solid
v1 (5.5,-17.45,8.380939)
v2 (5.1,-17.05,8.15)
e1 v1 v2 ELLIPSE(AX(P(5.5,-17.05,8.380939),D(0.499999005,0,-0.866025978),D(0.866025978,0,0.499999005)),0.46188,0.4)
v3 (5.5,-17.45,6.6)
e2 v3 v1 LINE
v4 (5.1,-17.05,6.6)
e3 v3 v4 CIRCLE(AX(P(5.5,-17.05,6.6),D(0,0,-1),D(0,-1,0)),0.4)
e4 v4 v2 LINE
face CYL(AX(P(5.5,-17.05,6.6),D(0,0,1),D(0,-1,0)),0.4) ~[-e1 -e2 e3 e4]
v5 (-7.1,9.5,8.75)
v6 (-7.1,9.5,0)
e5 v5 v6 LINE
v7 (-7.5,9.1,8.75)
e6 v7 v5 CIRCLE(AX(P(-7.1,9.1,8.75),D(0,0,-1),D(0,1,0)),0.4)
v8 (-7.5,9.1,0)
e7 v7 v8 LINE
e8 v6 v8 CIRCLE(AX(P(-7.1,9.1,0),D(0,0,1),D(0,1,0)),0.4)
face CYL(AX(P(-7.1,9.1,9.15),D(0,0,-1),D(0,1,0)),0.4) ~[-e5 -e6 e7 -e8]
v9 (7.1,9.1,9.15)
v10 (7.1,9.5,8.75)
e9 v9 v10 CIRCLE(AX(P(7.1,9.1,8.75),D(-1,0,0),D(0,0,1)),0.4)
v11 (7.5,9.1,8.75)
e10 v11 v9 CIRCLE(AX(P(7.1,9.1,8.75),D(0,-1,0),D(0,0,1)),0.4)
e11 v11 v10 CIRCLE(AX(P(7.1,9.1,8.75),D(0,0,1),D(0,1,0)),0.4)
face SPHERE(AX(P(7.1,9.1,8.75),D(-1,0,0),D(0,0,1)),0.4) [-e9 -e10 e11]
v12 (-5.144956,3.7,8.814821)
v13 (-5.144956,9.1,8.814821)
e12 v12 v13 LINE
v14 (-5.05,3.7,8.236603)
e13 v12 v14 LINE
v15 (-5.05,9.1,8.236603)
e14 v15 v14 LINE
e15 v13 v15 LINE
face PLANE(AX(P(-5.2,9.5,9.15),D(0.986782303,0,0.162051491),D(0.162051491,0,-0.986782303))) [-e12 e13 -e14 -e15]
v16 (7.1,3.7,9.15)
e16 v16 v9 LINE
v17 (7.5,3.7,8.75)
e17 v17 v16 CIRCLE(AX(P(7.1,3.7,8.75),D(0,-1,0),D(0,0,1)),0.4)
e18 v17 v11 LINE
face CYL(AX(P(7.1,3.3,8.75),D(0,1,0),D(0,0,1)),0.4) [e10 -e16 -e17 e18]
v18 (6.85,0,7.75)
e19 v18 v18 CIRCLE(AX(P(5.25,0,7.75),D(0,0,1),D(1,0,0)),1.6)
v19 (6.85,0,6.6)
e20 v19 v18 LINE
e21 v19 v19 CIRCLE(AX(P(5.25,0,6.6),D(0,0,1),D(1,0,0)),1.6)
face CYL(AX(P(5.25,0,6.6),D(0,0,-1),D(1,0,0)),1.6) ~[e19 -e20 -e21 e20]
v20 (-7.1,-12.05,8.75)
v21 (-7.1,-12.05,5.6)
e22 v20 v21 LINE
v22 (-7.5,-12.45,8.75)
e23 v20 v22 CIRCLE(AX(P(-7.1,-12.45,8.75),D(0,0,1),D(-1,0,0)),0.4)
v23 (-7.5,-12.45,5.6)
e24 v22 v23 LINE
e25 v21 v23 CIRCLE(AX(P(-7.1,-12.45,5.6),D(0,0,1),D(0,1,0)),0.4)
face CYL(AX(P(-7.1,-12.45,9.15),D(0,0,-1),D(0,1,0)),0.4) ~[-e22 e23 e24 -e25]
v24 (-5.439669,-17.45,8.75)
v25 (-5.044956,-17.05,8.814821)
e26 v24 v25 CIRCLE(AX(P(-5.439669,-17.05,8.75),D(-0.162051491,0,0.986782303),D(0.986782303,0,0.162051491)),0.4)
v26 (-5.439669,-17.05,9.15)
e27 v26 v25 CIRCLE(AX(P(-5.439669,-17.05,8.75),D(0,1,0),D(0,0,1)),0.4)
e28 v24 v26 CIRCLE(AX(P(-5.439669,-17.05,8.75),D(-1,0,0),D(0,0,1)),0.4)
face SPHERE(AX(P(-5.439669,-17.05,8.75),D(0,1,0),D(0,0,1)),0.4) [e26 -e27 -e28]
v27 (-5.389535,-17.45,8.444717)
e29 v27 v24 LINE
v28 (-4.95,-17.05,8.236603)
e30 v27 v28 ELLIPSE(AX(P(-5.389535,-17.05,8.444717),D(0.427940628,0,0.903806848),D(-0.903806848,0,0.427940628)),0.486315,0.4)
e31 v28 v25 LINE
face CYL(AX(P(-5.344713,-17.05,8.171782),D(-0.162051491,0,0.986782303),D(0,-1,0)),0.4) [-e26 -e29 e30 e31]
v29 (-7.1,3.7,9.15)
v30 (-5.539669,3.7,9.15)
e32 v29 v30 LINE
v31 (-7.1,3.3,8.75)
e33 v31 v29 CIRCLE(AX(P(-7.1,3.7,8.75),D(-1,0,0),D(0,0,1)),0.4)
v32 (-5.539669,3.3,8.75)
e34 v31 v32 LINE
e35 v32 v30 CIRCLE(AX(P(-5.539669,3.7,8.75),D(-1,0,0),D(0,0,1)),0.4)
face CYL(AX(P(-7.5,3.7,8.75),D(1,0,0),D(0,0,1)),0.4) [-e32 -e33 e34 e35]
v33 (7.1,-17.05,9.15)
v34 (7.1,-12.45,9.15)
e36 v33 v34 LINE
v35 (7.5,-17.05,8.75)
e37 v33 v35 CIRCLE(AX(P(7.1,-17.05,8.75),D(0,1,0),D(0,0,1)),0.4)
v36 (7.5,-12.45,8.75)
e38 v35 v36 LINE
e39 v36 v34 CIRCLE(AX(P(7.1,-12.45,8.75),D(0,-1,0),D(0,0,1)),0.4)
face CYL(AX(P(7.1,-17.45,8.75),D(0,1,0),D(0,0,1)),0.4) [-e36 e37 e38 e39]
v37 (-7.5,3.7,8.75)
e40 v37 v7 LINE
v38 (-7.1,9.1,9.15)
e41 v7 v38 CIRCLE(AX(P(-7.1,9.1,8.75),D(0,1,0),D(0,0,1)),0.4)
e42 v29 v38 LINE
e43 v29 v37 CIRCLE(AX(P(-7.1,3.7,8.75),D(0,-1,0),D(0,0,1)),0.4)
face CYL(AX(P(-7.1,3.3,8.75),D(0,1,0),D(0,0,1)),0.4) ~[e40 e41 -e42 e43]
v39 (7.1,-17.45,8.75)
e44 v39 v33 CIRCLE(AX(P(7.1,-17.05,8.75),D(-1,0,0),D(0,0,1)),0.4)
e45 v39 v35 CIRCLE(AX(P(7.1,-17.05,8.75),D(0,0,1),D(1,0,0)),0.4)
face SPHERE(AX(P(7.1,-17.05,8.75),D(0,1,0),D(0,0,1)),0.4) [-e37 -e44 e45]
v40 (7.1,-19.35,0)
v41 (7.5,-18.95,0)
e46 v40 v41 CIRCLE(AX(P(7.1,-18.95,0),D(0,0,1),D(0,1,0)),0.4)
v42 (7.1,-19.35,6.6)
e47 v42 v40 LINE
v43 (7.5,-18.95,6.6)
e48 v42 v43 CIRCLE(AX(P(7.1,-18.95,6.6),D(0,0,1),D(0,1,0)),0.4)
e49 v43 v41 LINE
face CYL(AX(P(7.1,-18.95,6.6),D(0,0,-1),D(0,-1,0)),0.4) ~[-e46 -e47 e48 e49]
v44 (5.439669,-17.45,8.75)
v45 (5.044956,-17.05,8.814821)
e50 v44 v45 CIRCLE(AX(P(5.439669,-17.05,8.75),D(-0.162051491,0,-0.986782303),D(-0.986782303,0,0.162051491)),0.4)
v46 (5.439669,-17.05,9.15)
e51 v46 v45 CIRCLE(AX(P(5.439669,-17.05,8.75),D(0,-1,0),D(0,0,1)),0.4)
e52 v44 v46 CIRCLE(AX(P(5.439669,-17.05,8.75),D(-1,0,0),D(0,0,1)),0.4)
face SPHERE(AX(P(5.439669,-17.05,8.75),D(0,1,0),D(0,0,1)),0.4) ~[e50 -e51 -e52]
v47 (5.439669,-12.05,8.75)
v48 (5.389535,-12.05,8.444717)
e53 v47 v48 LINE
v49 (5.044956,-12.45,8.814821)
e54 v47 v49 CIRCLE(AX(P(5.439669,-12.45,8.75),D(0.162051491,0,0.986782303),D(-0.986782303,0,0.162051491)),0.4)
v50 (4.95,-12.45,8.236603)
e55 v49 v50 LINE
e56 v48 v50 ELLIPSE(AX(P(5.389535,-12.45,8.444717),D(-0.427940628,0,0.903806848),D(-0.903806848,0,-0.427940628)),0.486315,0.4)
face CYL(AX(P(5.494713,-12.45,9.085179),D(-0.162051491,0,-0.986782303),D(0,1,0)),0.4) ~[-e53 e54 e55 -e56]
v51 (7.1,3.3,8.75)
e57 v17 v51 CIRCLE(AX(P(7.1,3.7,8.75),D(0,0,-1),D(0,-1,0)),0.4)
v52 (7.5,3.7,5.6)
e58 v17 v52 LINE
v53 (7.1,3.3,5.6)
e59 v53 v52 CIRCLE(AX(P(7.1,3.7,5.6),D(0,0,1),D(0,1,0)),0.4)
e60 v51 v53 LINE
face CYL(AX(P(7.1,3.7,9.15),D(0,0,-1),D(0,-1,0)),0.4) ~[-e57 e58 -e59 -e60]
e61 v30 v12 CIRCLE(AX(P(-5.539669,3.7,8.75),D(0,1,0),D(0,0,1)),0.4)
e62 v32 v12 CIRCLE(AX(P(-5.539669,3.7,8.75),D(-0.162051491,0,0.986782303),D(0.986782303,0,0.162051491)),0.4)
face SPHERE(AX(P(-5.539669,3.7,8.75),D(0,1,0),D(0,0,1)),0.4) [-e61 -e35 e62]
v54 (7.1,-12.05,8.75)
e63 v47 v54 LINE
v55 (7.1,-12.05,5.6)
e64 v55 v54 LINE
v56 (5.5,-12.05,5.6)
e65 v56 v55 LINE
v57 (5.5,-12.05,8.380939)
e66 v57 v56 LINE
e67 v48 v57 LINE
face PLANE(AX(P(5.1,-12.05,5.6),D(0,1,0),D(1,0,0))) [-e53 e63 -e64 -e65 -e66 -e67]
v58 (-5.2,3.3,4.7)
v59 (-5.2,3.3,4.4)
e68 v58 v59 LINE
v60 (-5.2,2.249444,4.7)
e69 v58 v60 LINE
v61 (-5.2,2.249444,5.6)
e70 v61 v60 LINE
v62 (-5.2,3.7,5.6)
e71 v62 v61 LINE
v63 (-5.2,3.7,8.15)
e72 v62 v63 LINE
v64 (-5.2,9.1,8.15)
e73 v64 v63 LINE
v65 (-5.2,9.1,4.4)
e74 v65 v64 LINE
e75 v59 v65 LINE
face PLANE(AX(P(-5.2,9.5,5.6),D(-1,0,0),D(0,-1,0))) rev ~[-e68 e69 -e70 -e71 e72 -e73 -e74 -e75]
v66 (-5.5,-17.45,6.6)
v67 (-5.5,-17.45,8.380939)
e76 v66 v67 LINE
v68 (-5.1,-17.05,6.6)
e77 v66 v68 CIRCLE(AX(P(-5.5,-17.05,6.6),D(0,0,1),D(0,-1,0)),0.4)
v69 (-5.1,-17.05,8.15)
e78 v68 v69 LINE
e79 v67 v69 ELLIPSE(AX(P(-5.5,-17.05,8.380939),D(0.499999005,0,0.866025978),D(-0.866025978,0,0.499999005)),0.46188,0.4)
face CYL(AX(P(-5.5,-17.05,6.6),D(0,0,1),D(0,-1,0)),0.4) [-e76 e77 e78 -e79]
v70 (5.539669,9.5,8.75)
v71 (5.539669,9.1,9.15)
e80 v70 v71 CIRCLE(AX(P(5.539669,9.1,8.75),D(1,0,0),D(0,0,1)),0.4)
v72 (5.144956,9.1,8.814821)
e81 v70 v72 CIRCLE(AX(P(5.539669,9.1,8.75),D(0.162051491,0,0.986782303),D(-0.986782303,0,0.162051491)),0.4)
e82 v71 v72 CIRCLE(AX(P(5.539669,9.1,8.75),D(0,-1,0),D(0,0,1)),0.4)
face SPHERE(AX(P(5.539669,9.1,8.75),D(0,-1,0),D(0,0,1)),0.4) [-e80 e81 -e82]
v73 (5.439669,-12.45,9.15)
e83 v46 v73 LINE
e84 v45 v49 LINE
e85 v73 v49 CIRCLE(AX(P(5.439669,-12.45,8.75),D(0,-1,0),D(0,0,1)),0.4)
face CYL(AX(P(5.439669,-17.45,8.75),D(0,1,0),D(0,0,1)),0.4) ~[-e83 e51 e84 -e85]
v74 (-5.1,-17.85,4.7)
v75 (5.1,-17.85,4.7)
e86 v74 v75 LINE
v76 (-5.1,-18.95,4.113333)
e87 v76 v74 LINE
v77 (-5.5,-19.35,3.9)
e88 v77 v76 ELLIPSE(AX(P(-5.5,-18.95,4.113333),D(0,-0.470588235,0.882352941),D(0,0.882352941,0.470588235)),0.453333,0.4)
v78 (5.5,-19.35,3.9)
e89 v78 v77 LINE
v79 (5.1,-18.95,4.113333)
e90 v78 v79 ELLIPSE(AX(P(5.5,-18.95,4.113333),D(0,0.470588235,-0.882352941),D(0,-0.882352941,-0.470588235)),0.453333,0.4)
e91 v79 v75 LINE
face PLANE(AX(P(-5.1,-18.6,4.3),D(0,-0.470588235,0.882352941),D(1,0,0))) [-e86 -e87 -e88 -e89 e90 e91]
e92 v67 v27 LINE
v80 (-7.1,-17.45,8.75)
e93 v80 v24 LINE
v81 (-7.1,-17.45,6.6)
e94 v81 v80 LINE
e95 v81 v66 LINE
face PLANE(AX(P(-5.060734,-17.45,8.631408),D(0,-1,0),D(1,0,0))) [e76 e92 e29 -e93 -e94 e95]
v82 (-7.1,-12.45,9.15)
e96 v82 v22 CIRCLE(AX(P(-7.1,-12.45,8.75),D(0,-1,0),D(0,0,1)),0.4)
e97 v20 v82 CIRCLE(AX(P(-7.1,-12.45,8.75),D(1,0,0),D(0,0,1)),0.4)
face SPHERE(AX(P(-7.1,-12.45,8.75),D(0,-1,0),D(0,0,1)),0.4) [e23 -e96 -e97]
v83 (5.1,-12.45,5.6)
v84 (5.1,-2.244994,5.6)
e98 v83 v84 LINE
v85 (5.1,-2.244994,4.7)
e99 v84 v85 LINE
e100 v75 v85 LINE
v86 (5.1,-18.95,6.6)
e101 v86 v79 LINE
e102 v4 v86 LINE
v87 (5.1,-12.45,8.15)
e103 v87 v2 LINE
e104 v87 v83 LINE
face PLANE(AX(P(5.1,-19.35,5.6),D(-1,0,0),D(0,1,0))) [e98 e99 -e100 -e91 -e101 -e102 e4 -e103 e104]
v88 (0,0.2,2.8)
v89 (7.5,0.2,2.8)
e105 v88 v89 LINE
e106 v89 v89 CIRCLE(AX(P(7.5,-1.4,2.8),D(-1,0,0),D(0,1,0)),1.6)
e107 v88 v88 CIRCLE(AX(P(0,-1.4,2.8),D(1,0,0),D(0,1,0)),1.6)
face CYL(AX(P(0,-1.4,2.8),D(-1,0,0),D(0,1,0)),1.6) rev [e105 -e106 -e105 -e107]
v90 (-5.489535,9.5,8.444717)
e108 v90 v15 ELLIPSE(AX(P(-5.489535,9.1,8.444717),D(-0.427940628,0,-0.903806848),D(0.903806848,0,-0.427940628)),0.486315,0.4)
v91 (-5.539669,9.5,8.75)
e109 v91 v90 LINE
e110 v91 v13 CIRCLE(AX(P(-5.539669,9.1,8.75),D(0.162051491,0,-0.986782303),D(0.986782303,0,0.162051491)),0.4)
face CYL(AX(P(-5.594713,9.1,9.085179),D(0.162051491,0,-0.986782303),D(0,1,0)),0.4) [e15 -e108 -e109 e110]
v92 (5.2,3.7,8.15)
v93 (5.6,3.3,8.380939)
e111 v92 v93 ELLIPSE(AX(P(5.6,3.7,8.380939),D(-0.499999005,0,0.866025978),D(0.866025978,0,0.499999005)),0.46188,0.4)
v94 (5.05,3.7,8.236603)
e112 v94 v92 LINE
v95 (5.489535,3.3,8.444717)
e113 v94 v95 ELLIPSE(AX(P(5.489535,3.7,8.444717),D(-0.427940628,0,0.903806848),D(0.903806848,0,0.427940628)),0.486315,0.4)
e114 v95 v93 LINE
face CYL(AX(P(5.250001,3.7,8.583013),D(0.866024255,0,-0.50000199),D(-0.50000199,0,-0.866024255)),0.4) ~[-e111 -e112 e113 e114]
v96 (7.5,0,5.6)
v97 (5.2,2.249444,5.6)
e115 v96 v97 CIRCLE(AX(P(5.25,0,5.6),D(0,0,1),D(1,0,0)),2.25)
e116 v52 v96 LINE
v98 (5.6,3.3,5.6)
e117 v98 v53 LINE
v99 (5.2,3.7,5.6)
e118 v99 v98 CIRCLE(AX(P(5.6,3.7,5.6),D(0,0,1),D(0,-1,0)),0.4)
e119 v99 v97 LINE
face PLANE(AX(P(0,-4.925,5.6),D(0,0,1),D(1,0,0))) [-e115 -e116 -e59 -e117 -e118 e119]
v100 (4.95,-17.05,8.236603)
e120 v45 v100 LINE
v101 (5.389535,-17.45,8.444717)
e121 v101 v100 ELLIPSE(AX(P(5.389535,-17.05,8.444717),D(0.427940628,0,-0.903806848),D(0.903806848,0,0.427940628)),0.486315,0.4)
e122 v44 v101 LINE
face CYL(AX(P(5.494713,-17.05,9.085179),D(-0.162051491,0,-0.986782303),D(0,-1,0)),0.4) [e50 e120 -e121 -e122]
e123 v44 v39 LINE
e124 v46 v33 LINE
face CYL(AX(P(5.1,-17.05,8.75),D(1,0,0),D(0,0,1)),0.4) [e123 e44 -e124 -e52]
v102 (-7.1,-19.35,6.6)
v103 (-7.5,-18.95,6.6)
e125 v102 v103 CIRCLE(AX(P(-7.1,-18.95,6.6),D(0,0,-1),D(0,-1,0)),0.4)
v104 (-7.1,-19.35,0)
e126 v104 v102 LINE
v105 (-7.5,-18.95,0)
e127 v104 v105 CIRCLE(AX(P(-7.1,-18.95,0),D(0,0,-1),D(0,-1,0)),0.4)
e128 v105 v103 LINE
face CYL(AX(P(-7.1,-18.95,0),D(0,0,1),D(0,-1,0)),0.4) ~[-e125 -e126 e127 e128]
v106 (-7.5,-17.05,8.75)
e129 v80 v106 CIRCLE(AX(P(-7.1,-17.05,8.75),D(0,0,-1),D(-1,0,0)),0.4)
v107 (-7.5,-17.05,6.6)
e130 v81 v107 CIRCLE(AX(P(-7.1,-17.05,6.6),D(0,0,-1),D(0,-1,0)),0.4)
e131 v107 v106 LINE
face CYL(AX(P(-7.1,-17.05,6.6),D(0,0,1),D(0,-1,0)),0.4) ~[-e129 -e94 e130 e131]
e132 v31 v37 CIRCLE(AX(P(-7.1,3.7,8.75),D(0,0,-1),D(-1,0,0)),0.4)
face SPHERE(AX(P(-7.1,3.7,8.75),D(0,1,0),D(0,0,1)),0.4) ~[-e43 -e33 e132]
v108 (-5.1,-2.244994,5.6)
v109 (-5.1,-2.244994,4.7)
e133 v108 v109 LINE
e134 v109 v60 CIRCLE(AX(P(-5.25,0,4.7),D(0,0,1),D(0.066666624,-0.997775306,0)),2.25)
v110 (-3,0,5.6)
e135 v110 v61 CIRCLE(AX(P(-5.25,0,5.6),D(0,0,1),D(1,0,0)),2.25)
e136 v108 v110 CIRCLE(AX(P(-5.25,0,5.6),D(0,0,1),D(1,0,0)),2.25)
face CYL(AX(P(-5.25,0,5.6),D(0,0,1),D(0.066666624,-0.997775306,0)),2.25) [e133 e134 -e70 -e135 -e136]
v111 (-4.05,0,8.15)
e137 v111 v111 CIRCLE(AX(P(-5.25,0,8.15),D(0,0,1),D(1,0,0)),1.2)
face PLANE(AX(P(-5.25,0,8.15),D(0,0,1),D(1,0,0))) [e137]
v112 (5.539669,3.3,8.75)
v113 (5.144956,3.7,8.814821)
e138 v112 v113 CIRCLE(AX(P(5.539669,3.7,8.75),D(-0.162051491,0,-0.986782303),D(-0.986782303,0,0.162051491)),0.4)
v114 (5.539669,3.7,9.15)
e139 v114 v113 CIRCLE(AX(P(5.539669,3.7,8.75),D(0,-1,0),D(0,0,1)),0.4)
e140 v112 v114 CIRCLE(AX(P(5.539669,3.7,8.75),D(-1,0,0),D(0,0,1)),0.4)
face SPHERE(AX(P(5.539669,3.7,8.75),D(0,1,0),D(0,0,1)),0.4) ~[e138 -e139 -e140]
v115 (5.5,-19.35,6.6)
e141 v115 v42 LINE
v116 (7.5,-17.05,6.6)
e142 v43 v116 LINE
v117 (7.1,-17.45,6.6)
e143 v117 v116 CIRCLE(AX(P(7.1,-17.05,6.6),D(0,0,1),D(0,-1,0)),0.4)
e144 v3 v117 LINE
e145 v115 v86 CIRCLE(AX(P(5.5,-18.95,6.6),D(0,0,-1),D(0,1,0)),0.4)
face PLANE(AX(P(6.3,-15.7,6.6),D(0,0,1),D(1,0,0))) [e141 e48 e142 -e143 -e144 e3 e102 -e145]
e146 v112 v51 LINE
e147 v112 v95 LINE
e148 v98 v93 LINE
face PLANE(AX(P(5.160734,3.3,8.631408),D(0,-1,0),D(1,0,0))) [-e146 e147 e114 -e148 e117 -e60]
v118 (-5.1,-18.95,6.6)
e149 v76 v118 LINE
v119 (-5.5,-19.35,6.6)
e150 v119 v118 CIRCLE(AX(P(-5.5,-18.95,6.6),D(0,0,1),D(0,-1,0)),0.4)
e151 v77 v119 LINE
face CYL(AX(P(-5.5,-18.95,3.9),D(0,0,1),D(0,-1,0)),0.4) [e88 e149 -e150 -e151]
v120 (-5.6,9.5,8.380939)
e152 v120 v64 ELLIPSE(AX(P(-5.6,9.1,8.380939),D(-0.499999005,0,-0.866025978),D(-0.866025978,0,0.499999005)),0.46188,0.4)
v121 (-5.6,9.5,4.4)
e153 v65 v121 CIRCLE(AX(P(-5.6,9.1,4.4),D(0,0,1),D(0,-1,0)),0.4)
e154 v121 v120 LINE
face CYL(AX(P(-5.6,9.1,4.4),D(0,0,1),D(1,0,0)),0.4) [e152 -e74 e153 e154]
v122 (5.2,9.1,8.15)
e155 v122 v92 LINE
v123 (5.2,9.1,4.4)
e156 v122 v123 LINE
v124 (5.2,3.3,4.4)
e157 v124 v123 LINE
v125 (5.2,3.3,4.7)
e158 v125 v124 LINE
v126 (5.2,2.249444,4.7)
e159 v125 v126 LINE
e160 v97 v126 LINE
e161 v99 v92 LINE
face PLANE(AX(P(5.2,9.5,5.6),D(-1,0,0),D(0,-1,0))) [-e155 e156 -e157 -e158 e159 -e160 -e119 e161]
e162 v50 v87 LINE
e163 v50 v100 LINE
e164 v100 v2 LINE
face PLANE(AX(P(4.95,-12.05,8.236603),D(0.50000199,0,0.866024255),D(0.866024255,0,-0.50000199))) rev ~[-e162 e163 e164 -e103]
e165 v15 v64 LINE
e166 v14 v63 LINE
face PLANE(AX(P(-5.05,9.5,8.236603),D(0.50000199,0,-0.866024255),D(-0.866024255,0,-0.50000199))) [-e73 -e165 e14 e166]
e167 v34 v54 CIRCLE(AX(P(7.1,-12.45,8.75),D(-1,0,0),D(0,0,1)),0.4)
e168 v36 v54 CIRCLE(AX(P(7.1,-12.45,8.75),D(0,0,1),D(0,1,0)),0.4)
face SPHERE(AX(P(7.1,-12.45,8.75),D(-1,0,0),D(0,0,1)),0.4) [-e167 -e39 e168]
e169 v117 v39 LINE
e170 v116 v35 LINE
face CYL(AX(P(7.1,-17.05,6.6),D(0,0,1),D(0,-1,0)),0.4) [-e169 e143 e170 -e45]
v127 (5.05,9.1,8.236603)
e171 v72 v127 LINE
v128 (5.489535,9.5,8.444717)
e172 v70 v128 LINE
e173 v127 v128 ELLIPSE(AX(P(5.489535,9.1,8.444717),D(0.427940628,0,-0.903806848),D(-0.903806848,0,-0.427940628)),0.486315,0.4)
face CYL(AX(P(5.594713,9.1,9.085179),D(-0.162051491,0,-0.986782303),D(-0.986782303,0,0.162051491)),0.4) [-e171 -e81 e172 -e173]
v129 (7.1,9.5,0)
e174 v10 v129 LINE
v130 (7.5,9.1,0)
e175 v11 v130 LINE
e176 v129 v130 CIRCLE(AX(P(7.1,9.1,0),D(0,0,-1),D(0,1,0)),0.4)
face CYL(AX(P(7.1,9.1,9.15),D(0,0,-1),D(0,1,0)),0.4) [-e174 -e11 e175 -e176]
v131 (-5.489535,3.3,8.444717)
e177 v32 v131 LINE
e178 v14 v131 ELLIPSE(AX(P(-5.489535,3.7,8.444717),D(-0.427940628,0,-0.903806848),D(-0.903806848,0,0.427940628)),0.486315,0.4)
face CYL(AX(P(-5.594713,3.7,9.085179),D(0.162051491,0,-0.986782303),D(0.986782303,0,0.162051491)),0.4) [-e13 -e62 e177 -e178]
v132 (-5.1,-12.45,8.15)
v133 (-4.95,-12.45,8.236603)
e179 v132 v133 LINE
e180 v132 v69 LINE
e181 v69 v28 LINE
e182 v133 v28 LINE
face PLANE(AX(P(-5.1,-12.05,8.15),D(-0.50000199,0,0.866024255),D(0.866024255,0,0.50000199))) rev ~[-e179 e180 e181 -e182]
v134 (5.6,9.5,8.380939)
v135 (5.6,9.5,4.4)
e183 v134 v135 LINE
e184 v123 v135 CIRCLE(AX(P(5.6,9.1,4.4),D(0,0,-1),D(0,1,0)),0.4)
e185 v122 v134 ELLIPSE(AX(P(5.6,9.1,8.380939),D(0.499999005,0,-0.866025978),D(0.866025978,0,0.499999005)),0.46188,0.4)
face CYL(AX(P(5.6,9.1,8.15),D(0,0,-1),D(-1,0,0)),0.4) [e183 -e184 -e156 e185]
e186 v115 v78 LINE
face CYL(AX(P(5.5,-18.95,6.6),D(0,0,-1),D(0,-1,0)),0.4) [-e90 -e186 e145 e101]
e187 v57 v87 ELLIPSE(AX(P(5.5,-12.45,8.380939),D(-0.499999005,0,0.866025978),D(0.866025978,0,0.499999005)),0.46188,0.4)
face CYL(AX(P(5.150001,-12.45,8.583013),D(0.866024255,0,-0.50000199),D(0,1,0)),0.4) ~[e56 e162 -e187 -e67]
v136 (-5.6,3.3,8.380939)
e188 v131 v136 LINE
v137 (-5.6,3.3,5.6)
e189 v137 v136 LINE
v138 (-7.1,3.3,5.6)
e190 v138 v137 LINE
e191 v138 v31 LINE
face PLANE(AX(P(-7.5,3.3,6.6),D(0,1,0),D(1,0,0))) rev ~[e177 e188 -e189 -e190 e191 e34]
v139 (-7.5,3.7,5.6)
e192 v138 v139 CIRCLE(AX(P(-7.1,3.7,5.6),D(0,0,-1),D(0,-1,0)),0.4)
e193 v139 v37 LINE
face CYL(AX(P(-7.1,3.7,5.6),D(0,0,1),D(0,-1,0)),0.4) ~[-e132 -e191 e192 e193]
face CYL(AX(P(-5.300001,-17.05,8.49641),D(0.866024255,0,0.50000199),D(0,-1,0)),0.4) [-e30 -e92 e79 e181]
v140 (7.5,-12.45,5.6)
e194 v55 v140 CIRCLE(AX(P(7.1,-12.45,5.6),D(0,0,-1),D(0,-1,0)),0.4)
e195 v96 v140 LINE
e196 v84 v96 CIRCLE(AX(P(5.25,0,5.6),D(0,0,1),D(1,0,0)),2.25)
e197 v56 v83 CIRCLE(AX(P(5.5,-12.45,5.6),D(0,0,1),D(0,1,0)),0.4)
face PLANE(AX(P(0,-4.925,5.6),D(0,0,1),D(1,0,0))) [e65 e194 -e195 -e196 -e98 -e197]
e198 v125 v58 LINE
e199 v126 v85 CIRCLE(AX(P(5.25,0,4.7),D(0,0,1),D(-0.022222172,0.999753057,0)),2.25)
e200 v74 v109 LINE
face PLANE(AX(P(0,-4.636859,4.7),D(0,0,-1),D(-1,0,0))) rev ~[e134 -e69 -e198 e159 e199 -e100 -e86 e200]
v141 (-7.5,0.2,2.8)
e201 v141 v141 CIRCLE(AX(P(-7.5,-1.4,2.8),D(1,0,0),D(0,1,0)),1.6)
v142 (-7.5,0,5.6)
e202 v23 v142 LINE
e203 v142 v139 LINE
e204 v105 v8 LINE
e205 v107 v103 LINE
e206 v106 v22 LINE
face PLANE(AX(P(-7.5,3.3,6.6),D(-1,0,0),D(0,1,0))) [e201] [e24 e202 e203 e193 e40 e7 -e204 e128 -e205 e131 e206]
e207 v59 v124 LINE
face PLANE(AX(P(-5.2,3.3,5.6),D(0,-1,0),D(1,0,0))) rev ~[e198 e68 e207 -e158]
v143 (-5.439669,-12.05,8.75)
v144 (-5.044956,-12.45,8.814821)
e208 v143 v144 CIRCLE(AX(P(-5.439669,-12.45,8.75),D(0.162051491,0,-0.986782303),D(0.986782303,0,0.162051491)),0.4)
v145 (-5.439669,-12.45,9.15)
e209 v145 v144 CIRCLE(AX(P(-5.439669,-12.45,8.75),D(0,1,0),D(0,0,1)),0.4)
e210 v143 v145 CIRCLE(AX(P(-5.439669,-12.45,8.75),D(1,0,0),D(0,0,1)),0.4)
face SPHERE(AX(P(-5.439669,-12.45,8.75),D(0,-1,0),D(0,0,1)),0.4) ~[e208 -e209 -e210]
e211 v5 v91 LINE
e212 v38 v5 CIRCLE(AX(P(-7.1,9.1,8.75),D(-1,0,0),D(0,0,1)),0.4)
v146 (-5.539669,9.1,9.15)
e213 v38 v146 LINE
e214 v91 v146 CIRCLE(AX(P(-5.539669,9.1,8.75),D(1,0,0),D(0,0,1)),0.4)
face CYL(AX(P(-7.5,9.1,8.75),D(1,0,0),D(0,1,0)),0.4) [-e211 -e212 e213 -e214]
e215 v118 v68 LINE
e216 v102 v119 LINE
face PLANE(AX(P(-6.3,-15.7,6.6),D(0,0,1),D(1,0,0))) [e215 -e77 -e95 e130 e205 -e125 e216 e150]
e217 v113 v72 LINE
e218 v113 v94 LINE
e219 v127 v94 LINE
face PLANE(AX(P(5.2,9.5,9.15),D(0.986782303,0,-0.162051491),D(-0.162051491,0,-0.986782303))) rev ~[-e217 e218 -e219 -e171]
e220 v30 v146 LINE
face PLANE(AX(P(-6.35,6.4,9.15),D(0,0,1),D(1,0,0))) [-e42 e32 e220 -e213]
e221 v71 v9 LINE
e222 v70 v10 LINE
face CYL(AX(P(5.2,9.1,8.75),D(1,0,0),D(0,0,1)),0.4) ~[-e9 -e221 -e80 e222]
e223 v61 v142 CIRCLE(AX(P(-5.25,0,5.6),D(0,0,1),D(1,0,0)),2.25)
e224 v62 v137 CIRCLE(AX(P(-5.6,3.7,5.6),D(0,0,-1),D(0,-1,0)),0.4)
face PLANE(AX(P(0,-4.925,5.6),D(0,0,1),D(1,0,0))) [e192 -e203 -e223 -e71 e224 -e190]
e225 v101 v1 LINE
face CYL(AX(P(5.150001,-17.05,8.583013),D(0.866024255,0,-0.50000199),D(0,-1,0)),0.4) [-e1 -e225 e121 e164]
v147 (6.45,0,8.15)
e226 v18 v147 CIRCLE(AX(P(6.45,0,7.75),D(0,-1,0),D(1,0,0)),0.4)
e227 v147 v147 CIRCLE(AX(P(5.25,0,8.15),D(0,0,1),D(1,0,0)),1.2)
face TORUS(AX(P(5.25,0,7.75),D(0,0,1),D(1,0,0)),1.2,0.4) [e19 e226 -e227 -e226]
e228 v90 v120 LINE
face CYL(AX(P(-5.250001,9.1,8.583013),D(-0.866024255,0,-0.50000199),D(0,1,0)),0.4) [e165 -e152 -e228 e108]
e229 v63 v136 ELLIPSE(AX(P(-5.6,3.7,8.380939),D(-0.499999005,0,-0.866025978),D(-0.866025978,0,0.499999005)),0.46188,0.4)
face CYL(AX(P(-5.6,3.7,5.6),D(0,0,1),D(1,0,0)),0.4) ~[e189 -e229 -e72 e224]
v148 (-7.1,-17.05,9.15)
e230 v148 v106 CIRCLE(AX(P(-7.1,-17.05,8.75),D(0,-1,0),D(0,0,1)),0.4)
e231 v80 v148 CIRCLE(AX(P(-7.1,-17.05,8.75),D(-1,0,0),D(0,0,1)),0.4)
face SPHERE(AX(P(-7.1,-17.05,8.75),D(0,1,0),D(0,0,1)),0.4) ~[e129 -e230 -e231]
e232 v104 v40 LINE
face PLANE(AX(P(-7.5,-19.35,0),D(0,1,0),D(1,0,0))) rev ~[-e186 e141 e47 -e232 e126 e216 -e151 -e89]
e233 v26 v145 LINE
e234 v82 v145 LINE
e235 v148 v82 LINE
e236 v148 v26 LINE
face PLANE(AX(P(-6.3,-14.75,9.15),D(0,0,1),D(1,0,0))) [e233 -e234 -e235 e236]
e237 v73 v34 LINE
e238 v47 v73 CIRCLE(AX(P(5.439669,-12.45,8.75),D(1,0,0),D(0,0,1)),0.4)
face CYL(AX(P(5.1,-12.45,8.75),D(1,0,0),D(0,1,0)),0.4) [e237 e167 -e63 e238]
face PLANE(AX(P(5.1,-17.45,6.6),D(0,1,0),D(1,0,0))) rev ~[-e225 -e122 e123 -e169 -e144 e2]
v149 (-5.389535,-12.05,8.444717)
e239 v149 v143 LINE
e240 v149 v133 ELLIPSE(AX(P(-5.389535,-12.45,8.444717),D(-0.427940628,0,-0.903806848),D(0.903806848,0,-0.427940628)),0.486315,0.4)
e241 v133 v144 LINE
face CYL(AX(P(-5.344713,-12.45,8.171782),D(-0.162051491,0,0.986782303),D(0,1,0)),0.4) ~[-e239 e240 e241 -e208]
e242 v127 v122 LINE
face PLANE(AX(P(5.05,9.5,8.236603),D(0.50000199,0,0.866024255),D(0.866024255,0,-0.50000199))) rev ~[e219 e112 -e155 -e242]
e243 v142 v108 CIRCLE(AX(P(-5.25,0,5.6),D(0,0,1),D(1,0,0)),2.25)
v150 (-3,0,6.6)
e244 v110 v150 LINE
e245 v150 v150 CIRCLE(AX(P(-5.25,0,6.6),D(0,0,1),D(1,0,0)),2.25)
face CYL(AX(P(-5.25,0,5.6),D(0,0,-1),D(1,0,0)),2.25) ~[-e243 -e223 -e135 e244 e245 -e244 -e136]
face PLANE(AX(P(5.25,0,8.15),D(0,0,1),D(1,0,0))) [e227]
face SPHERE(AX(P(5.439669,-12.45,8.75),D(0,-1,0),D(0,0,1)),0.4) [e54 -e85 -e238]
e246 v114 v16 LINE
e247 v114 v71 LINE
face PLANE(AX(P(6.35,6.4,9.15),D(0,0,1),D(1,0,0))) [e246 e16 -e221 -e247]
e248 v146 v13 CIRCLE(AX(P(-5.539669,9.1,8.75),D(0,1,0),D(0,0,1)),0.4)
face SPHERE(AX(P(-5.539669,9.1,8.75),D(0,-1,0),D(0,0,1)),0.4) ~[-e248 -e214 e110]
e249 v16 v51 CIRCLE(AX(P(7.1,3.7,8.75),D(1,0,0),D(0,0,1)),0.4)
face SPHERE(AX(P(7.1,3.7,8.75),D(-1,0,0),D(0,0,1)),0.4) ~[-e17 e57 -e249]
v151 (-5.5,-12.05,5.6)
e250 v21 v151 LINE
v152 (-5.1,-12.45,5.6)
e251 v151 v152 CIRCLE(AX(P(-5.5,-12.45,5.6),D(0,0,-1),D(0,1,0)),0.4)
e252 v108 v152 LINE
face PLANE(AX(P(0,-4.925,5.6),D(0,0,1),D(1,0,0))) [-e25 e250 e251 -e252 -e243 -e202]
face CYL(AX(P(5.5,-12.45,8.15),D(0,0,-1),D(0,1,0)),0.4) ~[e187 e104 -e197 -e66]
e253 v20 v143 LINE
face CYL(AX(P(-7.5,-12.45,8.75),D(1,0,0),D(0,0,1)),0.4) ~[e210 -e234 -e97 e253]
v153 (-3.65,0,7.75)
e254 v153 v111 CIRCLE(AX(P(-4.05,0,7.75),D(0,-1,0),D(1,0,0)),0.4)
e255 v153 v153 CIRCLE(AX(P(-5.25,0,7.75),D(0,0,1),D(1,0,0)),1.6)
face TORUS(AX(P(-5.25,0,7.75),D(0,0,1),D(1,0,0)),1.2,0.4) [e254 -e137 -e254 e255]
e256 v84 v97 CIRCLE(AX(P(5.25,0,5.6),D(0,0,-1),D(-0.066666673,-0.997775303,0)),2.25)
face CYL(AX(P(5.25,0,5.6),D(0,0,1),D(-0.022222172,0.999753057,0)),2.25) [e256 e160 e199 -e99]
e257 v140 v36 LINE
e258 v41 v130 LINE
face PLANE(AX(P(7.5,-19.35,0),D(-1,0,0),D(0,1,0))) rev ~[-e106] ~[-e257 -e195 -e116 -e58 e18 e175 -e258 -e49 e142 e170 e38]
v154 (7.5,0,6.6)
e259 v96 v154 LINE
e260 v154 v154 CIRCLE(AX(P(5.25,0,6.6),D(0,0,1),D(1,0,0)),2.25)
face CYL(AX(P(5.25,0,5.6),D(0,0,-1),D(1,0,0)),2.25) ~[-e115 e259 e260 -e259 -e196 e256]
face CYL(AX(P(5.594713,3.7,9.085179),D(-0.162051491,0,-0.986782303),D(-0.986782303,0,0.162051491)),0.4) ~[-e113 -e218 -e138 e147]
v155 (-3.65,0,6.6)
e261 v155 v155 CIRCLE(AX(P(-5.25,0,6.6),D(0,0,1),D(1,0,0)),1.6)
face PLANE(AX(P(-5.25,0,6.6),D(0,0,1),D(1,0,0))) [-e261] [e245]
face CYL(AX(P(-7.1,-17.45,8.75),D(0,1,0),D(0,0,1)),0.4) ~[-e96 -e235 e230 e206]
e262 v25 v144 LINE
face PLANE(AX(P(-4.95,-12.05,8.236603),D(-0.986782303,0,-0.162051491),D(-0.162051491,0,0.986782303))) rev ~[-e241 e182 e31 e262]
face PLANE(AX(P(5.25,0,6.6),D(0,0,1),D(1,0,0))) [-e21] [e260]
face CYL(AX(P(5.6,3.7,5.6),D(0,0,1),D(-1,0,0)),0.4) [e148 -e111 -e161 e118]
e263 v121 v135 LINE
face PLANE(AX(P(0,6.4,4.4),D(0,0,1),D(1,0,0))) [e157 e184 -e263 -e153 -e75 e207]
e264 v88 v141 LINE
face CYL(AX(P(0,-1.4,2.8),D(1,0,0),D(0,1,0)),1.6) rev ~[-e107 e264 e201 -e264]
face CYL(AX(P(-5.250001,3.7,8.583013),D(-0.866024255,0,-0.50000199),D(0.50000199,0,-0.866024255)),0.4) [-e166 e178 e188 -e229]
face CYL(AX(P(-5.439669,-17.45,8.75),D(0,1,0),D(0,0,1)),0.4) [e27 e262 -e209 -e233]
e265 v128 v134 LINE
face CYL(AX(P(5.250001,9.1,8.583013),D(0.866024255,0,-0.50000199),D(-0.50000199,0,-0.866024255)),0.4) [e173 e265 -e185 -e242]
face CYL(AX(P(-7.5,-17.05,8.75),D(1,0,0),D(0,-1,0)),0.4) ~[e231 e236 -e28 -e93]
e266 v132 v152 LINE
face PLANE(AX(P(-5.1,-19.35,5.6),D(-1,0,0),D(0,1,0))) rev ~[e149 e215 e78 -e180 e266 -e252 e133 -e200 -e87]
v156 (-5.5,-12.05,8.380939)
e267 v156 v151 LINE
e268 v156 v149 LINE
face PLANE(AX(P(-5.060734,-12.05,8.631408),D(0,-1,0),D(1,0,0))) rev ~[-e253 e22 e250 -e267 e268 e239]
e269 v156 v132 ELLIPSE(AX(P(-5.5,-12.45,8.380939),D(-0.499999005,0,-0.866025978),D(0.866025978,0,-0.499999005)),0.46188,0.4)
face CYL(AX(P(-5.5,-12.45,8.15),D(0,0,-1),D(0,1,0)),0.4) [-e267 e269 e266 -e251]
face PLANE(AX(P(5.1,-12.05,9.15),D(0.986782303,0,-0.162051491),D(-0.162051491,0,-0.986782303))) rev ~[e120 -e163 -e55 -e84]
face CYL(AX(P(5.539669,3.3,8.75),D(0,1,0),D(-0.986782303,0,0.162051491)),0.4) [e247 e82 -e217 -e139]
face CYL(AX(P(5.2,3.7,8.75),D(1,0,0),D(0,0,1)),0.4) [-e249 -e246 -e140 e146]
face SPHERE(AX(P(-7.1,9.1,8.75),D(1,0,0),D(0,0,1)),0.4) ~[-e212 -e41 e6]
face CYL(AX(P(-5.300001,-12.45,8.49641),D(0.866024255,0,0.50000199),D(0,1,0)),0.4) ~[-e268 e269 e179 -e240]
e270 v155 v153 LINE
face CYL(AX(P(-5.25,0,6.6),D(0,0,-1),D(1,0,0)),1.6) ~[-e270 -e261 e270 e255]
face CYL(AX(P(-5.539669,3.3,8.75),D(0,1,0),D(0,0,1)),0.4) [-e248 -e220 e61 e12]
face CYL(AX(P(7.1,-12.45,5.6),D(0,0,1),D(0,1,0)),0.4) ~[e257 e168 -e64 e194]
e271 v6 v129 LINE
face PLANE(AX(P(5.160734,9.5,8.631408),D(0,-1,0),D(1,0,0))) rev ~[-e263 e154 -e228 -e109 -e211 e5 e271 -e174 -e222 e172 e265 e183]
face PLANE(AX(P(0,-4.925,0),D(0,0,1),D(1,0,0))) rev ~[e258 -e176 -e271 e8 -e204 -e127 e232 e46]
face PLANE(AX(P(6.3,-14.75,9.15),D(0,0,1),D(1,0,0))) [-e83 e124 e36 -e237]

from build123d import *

# Parameters (mm, degrees)
SKETCH001_W          = 15
SKETCH001_H          = 28.85
PAD_DEPTH            = 5.6
SKETCH002_R          = 2.25
SKETCH002_W          = 2.3
SKETCH002_H          = 6.2
SKETCH002_W_2        = 2.4
SKETCH002_H_2        = 7.3
PAD001_DEPTH         = 1
SKETCH010_W          = 2.3
SKETCH010_H          = 6.2
SKETCH010_W_2        = 2.4
SKETCH010_H_2        = 5.4
PAD004_DEPTH         = 2.55
SKETCH003_R          = 1.6
PAD002_DEPTH         = 1.55
PAD006_DEPTH         = 6.2
PAD005_DEPTH         = 5.4
POCKET_DEPTH         = 0.9
SKETCH013_W          = 10.4
SKETCH013_H          = 6.2
POCKET003_DEPTH      = 1.2
CHAMFER_SIZE2        = 1.5
CHAMFER_SIZE         = 0.8
FILLET_R             = 0.4
SKETCH009_R          = 1.6
POCKET002_DEPTH      = 7.501
POCKET002_DEPTH_BACK = 7.501


with BuildPart() as part:
    # Sketch001 → Pad (new body)
    with BuildSketch(Plane.XY):
        with Locations((0, -4.925)):
            Rectangle(SKETCH001_W, SKETCH001_H)
    extrude(amount=PAD_DEPTH)

    # Sketch002 → Pad001 (join)
    with BuildSketch(Plane.XY.offset(5.6)):
        with Locations((-5.25, 0)):
            Circle(SKETCH002_R)
        with Locations((5.25, 0)):
            Circle(SKETCH002_R)
        with Locations((-6.35, 6.4)):
            Rectangle(SKETCH002_W, SKETCH002_H)
        with Locations((6.35, 6.4)):
            Rectangle(SKETCH002_W, SKETCH002_H)
        with Locations((-6.3, -15.7)):
            Rectangle(SKETCH002_W_2, SKETCH002_H_2)
        with Locations((6.3, -15.7)):
            Rectangle(SKETCH002_W_2, SKETCH002_H_2)
    extrude(amount=PAD001_DEPTH)

    # Sketch010 → Pad004 (join)
    with BuildSketch(Plane.XY.offset(6.6)):
        with Locations((-6.35, 6.4)):
            Rectangle(SKETCH010_W, SKETCH010_H)
        with Locations((6.35, 6.4)):
            Rectangle(SKETCH010_W, SKETCH010_H)
        with Locations((6.3, -14.75)):
            Rectangle(SKETCH010_W_2, SKETCH010_H_2)
        with Locations((-6.3, -14.75)):
            Rectangle(SKETCH010_W_2, SKETCH010_H_2)
    extrude(amount=PAD004_DEPTH)

    # Sketch003 → Pad002 (join)
    with BuildSketch(Plane.XY.offset(6.6)):
        with Locations((-5.25, 0)):
            Circle(SKETCH003_R)
        with Locations((5.25, 0)):
            Circle(SKETCH003_R)
    extrude(amount=PAD002_DEPTH)

    # Sketch012 (on DatumPlane) → Pad006 (join)
    with BuildSketch(Plane(origin=(5.2, 9.5, 0), x_dir=(1, 0, 0), z_dir=(0, -1, 0))):
        Polygon((0, 8.15), (0, 9.15), (-0.15, 8.236603), align=None)
        Polygon((-10.4, 8.15), (-10.4, 9.15), (-10.25, 8.236603), align=None)
    extrude(amount=PAD006_DEPTH)

    # Sketch011 (on DatumPlane) → Pad005 (join)
    with BuildSketch(Plane(origin=(-5.1, -12.05, 0), x_dir=(-1, 0, 0), z_dir=(0, 1, 0))):
        Polygon((0, 8.15), (-0.15, 8.236603), (0, 9.15), align=None)
        Polygon((-10.2, 8.15), (-10.2, 9.15), (-10.05, 8.236603), align=None)
    extrude(amount=-PAD005_DEPTH)

    # Sketch004 → Pocket (cut)
    with BuildSketch(Plane.XY.offset(5.6)):
        with BuildLine():
            ThreePointArc((-5.1, -2.244994), (-3.000557, 0.050049), (-5.2, 2.249444))
            Line((-5.2, 9.5), (-5.2, 2.249444))
            Line((-5.2, 9.5), (5.2, 9.5))
            Line((5.2, 9.5), (5.2, 2.249444))
            ThreePointArc((5.2, 2.249444), (3.000557, 0.050049), (5.1, -2.244994))
            Line((5.1, -19.35), (5.1, -2.244994))
            Line((-5.1, -19.35), (5.1, -19.35))
            Line((-5.1, -19.35), (-5.1, -2.244994))
        make_face()
    extrude(amount=-POCKET_DEPTH, mode=Mode.SUBTRACT)

    # Sketch013 → Pocket003 (cut)
    with BuildSketch(Plane.XY.offset(5.6)):
        with Locations((0, 6.4)):
            Rectangle(SKETCH013_W, SKETCH013_H)
    extrude(amount=-POCKET003_DEPTH, mode=Mode.SUBTRACT)

    # Chamfer
    chamfer_edges = [part.edges().sort_by_distance(p)[0] for p in [
        (0, -19.35, 4.7),
    ]]
    chamfer_side = part.faces().sort_by_distance((0, -19.35, 2.727995))[0]
    chamfer(chamfer_edges, length=CHAMFER_SIZE, length2=CHAMFER_SIZE2, reference=chamfer_side)

    # Fillet
    fillet_edges = [part.edges().sort_by_distance(p)[0] for p in [
        (-5.025, -17.45, 8.693301),
        (-5.1, -17.45, 7.375),
        (-5.025, -17.45, 8.193301),
        (5.1, -17.45, 7.375),
        (5.025, -17.45, 8.193301),
        (5.025, -17.45, 8.693301),
        (-5.2, 3.3, 6.875),
        (-5.125, 3.3, 8.193301),
        (-5.125, 3.3, 8.693301),
        (5.2, 3.3, 6.875),
        (5.125, 3.3, 8.193301),
        (5.125, 3.3, 8.693301),
        (5.125, 9.5, 8.693301),
        (5.125, 9.5, 8.193301),
        (5.2, 9.5, 6.275),
        (-5.125, 9.5, 8.693301),
        (-5.125, 9.5, 8.193301),
        (-5.2, 9.5, 6.275),
        (-5.1, -12.05, 6.875),
        (-5.025, -12.05, 8.193301),
        (-5.025, -12.05, 8.693301),
        (5.025, -12.05, 8.693301),
        (5.025, -12.05, 8.193301),
        (5.1, -12.05, 6.875),
        (-6.85, 0, 8.15),
        (3.65, 0, 8.15),
        (5.2, 6.4, 9.15),
        (5.1, -14.75, 9.15),
        (-5.1, -14.75, 9.15),
        (-5.2, 6.4, 9.15),
        (6.35, 9.5, 9.15),
        (6.35, 3.3, 9.15),
        (7.5, 6.4, 9.15),
        (6.3, -12.05, 9.15),
        (7.5, -14.75, 9.15),
        (6.3, -17.45, 9.15),
        (-6.35, 9.5, 9.15),
        (-7.5, 6.4, 9.15),
        (-6.35, 3.3, 9.15),
        (-7.5, -14.75, 9.15),
        (-6.3, -17.45, 9.15),
        (-7.5, -17.45, 7.875),
        (-6.3, -12.05, 9.15),
        (-7.5, -12.05, 7.375),
        (7.5, -12.05, 7.375),
        (-7.5, 3.3, 7.375),
        (7.5, -17.45, 7.875),
        (7.5, 3.3, 7.375),
        (-7.5, -19.35, 3.3),
        (7.5, -19.35, 3.3),
        (7.5, 9.5, 4.575),
        (-7.5, 9.5, 4.575),
        (-5.1, -19.35, 5.65),
        (5.1, -19.35, 5.65),
    ]]
    fillet(fillet_edges, radius=FILLET_R)

    # Sketch009 → Pocket002 (cut, two sides)
    with BuildSketch(Plane.YZ) as pocket002_sk:
        with Locations((-1.4, 2.8)):
            Circle(SKETCH009_R)
    extrude(amount=-POCKET002_DEPTH, mode=Mode.SUBTRACT)
    extrude(pocket002_sk.sketch, amount=POCKET002_DEPTH_BACK, mode=Mode.SUBTRACT)


solid = part.part
